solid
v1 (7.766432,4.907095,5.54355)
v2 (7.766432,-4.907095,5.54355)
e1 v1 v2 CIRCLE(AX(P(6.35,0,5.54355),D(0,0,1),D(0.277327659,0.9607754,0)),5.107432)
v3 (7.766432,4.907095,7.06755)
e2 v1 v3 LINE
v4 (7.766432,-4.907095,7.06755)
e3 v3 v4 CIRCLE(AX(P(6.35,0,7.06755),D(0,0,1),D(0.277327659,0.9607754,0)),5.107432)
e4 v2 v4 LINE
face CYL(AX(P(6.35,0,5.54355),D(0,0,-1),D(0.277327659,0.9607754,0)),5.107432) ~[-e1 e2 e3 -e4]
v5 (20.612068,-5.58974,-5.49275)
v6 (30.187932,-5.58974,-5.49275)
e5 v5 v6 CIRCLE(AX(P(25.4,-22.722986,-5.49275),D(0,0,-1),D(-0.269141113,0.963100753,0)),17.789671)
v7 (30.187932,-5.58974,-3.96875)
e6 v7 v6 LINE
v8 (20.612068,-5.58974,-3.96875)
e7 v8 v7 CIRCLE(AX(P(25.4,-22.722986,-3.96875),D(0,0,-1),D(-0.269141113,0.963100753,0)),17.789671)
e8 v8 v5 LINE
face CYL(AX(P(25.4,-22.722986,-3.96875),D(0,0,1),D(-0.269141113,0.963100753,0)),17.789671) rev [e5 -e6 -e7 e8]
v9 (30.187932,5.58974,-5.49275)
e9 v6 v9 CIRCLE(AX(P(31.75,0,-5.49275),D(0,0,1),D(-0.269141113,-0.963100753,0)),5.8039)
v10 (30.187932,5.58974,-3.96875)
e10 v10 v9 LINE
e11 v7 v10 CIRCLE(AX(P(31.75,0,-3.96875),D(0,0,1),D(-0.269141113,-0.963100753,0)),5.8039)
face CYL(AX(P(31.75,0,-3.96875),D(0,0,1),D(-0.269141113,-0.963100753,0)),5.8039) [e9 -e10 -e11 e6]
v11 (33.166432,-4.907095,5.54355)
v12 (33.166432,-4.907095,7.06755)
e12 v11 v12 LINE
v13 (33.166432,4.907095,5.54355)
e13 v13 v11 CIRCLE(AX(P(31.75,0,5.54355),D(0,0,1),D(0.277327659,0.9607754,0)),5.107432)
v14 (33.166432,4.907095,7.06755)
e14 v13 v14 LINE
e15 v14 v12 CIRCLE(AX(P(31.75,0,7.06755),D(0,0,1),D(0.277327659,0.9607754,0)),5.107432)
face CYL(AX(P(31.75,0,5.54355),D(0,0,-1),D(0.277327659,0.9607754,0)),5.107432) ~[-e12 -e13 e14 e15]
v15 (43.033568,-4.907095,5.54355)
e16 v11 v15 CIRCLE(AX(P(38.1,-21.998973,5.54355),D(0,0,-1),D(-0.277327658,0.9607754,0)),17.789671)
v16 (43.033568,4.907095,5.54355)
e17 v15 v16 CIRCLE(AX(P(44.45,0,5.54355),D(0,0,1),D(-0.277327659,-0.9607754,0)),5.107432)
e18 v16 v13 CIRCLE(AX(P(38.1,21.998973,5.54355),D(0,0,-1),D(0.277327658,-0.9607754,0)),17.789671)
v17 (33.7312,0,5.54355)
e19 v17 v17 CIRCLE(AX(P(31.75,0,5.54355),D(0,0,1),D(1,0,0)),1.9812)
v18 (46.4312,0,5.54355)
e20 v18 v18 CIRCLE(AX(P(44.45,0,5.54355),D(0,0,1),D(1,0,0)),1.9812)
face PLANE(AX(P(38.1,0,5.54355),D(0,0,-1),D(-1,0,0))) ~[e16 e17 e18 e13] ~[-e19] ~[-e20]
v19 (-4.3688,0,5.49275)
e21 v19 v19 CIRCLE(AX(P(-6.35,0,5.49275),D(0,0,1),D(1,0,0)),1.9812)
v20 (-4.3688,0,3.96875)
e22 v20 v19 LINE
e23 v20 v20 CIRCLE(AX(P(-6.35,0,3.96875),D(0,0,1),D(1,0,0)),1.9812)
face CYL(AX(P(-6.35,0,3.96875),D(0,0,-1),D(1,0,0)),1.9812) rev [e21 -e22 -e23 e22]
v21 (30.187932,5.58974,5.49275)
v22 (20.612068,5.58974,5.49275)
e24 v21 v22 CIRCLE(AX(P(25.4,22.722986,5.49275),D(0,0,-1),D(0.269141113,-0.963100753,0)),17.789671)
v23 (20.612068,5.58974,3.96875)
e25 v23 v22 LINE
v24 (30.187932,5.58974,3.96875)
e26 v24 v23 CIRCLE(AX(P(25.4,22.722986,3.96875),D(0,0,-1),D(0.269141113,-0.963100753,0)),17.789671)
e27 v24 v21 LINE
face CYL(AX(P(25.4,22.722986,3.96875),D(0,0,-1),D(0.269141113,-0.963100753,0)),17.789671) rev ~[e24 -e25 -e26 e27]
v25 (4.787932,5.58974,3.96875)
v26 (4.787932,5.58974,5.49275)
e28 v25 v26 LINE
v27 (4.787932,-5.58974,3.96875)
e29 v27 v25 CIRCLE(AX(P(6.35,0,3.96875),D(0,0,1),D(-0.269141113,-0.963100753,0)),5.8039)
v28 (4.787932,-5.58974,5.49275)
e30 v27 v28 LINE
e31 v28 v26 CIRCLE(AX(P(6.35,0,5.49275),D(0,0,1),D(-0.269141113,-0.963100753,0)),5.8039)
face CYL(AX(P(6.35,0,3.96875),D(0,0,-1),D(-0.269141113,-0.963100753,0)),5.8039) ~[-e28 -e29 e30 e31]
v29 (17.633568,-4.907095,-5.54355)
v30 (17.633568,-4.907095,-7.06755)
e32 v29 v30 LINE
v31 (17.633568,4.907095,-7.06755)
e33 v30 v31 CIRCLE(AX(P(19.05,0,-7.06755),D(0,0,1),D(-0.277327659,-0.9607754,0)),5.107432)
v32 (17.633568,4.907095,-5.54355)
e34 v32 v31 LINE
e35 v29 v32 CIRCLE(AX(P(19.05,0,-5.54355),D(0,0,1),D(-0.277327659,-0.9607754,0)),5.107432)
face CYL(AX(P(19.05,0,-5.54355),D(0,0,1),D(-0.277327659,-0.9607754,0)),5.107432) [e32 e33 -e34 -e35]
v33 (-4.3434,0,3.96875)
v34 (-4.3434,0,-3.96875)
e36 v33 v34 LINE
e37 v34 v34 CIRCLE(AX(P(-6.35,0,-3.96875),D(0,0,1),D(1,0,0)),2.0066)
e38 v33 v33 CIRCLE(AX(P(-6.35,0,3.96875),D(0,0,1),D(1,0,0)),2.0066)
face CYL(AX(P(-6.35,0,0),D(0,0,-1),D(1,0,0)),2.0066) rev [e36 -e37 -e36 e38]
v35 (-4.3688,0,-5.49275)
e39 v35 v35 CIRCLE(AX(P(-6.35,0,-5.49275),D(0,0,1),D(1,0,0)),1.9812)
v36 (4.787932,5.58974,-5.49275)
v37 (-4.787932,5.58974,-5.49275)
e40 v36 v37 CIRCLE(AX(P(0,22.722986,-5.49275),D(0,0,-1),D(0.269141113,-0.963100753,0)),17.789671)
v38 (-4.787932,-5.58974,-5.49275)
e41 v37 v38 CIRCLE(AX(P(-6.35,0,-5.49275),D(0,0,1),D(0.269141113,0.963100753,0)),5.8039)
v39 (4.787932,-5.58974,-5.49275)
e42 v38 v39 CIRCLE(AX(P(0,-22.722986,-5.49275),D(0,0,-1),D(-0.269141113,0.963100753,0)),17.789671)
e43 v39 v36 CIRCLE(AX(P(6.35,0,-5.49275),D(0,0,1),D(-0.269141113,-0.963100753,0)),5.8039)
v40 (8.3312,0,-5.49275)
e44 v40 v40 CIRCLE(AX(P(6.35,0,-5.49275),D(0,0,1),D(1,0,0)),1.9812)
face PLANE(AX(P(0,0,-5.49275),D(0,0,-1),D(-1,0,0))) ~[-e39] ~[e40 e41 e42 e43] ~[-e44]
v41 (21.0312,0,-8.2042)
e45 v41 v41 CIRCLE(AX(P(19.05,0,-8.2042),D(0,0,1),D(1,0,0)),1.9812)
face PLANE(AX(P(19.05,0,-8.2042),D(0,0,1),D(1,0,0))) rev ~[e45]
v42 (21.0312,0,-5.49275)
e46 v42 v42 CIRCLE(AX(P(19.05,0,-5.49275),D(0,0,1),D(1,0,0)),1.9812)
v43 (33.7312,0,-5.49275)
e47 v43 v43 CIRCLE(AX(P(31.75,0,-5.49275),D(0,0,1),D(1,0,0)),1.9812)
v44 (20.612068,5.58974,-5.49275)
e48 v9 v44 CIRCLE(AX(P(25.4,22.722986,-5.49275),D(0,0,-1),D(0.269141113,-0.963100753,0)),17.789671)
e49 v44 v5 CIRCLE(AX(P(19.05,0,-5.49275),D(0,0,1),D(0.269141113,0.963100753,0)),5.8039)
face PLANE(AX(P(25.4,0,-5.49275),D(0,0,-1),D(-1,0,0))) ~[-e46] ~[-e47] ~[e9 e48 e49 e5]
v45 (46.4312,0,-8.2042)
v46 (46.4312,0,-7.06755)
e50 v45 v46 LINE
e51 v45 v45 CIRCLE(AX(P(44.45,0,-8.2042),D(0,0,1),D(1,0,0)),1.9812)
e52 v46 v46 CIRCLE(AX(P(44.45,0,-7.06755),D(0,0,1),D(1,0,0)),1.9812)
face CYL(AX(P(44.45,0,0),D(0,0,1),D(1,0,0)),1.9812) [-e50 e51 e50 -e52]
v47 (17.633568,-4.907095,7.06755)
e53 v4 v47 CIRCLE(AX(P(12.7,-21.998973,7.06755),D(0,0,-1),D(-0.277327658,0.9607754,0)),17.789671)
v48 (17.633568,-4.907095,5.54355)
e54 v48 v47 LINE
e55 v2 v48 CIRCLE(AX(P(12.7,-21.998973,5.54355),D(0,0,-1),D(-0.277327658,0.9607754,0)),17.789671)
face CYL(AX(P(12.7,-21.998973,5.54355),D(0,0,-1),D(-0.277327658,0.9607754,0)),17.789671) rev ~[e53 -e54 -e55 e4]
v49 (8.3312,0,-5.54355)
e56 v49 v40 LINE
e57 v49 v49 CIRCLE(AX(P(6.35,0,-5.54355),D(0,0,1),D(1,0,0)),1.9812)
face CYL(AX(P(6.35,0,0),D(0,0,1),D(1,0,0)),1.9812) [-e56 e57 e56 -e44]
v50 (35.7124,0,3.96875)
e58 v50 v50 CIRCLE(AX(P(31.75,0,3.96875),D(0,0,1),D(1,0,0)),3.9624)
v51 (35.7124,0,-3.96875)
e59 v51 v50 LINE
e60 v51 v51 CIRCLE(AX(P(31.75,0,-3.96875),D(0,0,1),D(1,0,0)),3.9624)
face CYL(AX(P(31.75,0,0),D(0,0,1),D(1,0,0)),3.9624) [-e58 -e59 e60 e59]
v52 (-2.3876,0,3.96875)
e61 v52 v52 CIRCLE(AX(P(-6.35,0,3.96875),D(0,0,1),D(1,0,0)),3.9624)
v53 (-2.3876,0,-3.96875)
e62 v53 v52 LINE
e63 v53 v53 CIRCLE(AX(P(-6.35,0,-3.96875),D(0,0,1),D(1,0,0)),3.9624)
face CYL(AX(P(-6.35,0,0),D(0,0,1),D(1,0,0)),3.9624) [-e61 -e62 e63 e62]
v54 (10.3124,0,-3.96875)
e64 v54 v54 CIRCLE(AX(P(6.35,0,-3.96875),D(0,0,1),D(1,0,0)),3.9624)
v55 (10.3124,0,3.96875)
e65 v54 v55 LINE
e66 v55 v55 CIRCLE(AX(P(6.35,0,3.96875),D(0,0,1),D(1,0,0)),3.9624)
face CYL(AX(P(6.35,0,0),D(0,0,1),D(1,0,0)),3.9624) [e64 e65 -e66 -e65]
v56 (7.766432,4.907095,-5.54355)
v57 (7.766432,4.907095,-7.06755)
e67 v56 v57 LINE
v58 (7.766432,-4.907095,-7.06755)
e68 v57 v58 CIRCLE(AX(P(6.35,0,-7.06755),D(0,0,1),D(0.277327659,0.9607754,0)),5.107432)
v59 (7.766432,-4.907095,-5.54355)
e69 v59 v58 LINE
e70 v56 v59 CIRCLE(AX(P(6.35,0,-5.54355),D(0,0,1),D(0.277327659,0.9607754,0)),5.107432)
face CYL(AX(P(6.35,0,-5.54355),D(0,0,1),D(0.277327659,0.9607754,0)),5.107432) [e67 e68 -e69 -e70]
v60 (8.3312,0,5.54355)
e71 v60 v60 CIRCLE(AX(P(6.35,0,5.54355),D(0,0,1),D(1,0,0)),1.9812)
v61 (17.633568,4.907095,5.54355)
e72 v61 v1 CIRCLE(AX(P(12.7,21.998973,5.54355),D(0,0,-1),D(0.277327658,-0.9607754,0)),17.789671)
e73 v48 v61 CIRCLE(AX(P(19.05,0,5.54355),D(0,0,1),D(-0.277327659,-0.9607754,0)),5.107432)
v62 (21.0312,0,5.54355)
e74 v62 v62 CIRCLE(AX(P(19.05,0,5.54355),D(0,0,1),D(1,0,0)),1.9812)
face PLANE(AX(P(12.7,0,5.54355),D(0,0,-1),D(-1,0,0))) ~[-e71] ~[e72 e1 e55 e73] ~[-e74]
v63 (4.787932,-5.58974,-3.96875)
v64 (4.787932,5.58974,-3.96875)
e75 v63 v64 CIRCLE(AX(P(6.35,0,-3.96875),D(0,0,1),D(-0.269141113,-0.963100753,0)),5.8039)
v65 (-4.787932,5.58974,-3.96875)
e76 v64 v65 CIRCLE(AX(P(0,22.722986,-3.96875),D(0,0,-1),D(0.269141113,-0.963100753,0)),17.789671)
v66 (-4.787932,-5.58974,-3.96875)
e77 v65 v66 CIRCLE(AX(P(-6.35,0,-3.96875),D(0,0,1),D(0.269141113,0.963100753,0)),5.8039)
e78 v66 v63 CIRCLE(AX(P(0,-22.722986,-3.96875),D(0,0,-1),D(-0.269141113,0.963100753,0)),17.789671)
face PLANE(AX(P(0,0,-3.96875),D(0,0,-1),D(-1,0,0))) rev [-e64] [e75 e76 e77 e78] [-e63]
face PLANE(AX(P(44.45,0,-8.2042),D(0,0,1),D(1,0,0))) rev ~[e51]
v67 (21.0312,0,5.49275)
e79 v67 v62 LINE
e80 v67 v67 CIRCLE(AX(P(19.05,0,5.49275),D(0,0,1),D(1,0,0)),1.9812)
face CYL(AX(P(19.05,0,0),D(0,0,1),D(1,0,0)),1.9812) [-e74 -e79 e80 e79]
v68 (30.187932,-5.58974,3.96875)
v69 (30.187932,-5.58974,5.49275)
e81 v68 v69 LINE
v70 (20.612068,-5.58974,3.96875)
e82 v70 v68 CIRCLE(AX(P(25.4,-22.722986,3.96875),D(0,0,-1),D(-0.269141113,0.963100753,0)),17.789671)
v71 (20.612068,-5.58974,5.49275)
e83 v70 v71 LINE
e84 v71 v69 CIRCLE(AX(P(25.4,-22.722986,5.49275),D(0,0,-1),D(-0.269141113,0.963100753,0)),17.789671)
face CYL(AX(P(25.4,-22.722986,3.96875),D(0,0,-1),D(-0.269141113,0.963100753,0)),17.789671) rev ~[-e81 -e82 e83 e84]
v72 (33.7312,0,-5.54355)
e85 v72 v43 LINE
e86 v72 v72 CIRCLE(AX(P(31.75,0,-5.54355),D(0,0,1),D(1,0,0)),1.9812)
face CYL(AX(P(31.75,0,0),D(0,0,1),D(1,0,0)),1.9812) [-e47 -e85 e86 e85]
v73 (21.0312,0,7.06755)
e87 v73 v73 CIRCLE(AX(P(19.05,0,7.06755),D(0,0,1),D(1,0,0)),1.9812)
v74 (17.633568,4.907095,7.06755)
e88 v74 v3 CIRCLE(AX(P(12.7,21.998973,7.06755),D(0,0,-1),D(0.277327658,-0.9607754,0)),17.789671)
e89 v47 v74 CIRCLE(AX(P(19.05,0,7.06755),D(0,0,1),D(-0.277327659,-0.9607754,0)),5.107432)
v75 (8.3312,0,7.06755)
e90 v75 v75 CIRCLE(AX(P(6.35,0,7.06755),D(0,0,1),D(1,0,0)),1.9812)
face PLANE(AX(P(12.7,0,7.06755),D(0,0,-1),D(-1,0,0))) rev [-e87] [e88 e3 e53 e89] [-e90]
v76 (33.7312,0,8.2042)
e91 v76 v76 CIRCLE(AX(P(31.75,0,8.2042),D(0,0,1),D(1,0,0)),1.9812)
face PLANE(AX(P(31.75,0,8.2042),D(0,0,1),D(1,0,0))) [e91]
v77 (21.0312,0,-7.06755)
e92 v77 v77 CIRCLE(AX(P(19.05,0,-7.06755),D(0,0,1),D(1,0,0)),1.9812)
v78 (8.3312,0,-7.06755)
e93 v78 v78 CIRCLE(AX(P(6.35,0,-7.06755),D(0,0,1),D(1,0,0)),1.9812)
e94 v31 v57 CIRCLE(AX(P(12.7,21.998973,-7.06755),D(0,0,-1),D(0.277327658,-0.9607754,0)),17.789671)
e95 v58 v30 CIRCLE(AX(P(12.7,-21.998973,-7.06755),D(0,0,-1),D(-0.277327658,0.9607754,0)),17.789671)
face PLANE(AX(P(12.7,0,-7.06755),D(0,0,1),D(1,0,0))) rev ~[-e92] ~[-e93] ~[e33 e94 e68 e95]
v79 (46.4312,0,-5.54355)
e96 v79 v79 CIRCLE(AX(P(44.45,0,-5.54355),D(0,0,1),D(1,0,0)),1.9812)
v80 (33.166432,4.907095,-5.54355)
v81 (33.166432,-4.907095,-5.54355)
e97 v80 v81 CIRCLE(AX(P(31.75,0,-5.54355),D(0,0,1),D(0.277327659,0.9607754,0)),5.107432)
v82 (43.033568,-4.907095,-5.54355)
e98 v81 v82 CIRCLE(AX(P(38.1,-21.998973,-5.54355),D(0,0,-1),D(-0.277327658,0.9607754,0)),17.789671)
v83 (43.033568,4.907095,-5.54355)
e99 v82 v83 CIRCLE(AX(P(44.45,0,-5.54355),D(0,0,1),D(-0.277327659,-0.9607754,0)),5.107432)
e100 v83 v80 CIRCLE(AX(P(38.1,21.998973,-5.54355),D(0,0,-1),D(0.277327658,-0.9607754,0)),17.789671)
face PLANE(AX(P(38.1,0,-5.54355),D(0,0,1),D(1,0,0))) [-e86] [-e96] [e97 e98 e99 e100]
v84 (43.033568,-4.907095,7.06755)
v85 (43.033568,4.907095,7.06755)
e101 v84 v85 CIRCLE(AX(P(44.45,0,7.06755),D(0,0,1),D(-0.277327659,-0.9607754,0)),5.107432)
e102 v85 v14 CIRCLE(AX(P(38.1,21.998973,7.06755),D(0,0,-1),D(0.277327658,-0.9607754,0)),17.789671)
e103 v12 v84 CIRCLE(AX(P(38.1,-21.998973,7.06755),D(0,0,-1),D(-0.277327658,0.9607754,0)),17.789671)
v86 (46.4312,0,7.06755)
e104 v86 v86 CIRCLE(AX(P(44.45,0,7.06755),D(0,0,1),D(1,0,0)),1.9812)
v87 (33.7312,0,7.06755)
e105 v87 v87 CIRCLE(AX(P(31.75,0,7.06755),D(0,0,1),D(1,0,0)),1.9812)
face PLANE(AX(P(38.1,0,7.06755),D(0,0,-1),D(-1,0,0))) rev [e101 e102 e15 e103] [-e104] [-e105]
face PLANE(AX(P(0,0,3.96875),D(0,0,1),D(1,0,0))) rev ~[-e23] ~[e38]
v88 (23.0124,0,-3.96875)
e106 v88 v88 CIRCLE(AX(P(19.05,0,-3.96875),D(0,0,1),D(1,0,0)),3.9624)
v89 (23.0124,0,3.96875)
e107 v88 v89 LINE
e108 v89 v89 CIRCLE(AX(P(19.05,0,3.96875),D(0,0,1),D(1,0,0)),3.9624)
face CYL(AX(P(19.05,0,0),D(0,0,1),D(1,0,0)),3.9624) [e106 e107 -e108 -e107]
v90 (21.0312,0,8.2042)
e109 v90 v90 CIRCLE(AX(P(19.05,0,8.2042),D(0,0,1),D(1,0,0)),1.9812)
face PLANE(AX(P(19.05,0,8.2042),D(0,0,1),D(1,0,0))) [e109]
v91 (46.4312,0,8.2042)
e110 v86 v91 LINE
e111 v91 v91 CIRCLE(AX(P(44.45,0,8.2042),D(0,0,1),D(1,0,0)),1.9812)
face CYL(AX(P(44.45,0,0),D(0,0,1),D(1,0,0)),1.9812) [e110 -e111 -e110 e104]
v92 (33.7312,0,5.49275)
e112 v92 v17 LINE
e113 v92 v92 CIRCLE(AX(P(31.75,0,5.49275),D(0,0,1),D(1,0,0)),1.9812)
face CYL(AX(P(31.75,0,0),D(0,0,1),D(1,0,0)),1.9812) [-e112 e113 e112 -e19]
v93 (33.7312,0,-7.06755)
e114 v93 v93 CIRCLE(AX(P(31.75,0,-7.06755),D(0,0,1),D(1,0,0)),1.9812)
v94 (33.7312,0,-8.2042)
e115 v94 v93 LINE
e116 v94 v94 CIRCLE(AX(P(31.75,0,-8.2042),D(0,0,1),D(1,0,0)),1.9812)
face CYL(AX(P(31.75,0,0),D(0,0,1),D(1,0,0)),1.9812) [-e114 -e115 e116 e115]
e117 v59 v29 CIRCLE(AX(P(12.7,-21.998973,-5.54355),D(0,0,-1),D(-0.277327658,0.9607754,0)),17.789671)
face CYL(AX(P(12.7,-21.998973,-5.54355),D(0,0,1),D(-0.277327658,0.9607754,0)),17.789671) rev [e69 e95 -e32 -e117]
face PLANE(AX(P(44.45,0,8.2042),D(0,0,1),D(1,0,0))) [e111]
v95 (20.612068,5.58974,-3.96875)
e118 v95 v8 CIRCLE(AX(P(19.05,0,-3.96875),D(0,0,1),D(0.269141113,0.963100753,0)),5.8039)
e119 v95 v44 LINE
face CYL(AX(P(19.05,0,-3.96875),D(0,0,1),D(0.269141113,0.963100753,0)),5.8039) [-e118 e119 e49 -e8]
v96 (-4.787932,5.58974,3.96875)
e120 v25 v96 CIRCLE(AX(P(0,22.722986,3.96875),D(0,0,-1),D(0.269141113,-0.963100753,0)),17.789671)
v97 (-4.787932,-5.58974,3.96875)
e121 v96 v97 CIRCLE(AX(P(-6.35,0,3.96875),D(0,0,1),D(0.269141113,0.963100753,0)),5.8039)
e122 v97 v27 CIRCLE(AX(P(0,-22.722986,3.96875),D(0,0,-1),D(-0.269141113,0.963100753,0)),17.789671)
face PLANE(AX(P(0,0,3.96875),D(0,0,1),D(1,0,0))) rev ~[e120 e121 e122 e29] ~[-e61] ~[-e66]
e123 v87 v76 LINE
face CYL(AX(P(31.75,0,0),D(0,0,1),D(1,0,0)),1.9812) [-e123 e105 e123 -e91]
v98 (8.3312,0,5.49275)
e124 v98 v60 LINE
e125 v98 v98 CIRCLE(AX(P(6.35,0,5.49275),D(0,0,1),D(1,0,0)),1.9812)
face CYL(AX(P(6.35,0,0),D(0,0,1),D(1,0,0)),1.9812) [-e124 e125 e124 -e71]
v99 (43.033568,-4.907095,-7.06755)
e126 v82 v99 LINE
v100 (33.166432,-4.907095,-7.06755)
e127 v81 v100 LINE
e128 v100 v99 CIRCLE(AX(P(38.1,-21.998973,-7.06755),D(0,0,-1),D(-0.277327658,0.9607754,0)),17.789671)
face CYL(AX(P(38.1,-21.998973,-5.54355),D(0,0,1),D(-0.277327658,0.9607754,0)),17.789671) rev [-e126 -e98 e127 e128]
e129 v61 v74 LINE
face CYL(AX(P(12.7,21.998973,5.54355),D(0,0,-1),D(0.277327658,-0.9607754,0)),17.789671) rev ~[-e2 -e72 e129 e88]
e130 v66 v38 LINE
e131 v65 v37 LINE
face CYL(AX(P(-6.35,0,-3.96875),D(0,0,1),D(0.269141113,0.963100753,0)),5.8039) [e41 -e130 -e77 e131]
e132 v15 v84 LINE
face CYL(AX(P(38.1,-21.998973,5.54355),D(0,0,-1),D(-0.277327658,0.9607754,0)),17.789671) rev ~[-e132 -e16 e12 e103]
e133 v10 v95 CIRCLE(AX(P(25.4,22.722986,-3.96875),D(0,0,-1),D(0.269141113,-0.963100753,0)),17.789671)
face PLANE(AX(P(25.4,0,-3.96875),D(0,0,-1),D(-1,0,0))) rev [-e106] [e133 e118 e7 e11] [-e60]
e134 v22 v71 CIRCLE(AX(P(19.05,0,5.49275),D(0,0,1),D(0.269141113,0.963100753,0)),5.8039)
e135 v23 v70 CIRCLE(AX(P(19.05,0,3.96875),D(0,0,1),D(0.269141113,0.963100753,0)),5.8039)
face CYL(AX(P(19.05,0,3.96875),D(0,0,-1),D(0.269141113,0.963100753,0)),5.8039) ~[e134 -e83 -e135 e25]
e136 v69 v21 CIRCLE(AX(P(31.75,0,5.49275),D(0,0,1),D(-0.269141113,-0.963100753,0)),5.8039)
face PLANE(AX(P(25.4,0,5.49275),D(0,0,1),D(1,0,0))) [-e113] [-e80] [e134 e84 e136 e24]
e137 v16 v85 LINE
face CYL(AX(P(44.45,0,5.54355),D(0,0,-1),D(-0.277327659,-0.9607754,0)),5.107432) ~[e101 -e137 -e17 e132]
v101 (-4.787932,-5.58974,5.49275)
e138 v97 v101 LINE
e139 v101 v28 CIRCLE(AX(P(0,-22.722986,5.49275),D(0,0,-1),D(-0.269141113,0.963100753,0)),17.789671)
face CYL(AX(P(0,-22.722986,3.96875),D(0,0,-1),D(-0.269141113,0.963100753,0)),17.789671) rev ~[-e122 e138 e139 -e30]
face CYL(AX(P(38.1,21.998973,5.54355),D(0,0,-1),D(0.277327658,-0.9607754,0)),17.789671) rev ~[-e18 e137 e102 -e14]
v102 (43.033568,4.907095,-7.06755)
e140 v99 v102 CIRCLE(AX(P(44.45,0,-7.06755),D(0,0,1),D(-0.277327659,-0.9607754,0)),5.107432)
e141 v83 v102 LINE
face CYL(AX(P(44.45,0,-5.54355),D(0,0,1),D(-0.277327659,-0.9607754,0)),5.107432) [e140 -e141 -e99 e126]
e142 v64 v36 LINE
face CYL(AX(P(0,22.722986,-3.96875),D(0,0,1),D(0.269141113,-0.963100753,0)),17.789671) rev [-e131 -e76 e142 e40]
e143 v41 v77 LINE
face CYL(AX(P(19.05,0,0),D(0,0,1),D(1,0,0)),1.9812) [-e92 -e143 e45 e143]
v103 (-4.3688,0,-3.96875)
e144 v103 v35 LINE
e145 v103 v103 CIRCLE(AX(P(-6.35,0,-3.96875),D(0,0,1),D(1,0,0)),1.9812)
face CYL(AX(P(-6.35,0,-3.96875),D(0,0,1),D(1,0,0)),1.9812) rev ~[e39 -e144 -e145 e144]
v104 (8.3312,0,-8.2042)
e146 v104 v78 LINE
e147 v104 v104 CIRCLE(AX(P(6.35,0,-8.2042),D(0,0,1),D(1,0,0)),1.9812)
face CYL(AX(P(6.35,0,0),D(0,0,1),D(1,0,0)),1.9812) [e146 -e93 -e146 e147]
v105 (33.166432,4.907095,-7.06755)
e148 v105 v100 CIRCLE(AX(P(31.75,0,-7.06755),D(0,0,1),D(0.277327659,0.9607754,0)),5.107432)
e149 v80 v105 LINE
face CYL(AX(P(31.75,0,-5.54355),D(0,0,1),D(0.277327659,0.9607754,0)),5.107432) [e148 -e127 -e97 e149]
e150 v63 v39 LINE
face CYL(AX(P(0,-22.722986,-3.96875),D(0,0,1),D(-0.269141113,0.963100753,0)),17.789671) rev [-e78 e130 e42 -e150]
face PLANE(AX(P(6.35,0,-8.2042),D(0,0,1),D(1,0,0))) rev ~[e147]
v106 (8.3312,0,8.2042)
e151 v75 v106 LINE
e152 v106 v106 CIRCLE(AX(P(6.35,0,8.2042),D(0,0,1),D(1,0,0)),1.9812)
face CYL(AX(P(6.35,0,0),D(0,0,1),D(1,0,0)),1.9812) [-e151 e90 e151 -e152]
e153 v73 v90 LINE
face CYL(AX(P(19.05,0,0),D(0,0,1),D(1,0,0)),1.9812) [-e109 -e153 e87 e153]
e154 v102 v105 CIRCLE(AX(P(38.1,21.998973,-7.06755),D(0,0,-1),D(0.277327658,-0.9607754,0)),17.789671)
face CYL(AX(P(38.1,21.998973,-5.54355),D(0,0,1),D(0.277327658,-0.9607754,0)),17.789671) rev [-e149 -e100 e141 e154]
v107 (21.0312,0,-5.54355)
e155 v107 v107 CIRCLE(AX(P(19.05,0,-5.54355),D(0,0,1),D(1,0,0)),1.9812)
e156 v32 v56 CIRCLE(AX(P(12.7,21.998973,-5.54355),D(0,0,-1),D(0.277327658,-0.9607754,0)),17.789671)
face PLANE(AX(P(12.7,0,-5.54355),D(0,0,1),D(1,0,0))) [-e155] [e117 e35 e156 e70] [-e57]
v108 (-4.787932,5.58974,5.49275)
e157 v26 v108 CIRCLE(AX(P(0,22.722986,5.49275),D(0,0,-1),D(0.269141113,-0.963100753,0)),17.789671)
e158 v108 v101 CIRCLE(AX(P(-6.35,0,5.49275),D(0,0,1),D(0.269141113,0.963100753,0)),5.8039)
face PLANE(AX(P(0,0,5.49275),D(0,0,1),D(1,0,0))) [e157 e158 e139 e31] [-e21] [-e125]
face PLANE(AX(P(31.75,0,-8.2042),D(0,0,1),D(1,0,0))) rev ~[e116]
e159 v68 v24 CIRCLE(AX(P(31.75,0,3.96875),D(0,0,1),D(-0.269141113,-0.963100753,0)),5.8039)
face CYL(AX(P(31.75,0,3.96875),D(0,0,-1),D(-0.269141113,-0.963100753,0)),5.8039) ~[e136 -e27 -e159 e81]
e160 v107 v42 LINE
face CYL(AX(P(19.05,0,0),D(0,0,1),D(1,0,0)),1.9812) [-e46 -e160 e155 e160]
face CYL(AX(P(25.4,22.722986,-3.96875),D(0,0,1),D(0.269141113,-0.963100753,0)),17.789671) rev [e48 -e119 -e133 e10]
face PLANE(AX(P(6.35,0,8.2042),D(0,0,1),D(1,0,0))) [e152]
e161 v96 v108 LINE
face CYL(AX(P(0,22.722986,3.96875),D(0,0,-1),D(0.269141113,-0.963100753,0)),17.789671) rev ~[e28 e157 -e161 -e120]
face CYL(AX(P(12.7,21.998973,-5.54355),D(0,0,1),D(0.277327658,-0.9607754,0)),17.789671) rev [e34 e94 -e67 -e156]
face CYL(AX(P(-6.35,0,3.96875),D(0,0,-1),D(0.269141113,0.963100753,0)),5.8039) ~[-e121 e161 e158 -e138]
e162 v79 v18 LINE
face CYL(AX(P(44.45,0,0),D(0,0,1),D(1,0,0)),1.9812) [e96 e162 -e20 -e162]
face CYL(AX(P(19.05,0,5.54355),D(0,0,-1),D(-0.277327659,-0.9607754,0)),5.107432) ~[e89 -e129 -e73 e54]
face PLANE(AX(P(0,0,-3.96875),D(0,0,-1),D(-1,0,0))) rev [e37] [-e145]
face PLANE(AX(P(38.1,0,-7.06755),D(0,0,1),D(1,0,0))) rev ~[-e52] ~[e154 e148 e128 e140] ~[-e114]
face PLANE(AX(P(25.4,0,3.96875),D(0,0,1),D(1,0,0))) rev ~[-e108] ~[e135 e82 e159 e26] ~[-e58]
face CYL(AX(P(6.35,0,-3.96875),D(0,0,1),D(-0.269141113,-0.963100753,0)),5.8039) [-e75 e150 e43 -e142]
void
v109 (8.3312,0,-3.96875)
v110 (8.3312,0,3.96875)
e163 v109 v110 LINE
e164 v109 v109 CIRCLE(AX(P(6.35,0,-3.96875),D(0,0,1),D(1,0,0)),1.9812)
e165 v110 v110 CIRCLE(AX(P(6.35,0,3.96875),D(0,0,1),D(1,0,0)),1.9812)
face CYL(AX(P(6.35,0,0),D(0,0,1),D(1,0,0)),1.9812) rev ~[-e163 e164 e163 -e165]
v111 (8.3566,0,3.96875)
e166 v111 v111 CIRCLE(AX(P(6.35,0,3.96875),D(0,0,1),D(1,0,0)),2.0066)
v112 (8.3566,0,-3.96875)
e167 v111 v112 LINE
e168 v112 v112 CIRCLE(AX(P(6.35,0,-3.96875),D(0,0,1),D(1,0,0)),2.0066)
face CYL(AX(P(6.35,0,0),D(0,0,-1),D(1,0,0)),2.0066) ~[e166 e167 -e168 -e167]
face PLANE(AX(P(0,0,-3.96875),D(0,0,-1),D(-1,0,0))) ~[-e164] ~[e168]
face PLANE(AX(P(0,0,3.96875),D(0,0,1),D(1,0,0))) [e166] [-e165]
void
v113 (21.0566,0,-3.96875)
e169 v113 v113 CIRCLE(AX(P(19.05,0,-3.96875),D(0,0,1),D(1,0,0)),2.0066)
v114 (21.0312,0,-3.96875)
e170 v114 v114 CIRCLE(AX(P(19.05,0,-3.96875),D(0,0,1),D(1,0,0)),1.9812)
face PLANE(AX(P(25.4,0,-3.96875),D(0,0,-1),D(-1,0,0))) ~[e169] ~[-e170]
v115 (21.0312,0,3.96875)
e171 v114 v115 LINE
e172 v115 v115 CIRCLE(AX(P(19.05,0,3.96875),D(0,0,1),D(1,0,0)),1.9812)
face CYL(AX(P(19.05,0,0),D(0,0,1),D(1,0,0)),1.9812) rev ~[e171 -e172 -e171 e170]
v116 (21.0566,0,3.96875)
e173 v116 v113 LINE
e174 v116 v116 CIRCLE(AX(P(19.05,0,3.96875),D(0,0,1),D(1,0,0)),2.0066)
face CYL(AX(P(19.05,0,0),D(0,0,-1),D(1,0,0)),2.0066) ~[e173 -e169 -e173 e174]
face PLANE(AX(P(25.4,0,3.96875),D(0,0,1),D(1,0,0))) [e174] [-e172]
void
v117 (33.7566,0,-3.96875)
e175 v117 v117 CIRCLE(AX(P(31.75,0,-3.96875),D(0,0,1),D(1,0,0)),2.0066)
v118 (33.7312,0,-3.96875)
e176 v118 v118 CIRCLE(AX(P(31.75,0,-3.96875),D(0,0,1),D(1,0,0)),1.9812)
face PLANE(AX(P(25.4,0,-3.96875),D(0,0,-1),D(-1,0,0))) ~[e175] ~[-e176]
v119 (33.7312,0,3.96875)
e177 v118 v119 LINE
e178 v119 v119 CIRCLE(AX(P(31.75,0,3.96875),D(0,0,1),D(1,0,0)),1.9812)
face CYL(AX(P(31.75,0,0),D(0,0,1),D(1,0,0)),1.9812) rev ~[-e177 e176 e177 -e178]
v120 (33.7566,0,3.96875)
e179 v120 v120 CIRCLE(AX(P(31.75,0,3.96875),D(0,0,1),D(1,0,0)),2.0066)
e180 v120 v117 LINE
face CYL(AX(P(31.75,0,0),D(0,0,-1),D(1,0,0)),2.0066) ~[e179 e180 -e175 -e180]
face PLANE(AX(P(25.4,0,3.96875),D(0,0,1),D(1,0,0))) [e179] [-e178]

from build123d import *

# Parameters (mm, degrees)
SKETCH4_R                  = 3.9624
SKETCH4_R_2                = 2.0066
BOSS_EXTRUDE1_DEPTH        = 3.96875
BOSS_EXTRUDE1_2_DEPTH      = 3.96875
SKETCH5_R                  = 1.9812
BOSS_EXTRUDE2_DEPTH        = 1.524
LPATTERN1_COUNT            = 2
LPATTERN1_PITCH            = 12.7
SKETCH7_R                  = 1.9812
BOSS_EXTRUDE3_DEPTH        = 1.524
SKETCH8_R                  = 1.9812
BOSS_EXTRUDE4_DEPTH        = 8.2042
BOSS_EXTRUDE4_DEPTH_BACK   = 8.2042
BOSS_EXTRUDE4_2_DEPTH      = 8.2042
BOSS_EXTRUDE4_2_DEPTH_BACK = 8.2042
LPATTERN2_COUNT            = 2
LPATTERN2_PITCH            = 25.4


with BuildPart() as part:
    # Sketch4 → Boss-Extrude1 (new body, symmetric)
    with BuildSketch(Plane.XY):
        with Locations((-6.35, 0)):
            Circle(SKETCH4_R)
        with Locations((-6.35, 0)):
            Circle(SKETCH4_R_2, mode=Mode.SUBTRACT)
    extrude(amount=BOSS_EXTRUDE1_DEPTH, both=True)


with BuildPart() as body_2:
    # Sketch4 → Boss-Extrude1 2 (new body, symmetric)
    with BuildSketch(Plane.XY):
        with Locations((6.35, 0)):
            Circle(SKETCH4_R)
        with Locations((6.35, 0)):
            Circle(SKETCH4_R_2, mode=Mode.SUBTRACT)
    extrude(amount=BOSS_EXTRUDE1_2_DEPTH, both=True)


with BuildPart() as body_3:
    # Sketch5 → Boss-Extrude2 (new body)
    with BuildSketch(Plane.XY.offset(3.96875)):
        with BuildLine():
            ThreePointArc((-4.787931893, 5.589740462), (-12.1539, 0), (-4.787931893, -5.589740462))
            ThreePointArc((-4.787931893, -5.589740462), (0, -4.933315), (4.787931893, -5.589740462))
            ThreePointArc((4.787931893, -5.589740462), (12.1539, 0), (4.787931893, 5.589740462))
            ThreePointArc((4.787931893, 5.589740462), (0, 4.933315), (-4.787931893, 5.589740462))
        make_face()
        with Locations((-6.35, 0)):
            Circle(SKETCH5_R, mode=Mode.SUBTRACT)
        with Locations((6.35, 0)):
            Circle(SKETCH5_R, mode=Mode.SUBTRACT)
    extrude(amount=BOSS_EXTRUDE2_DEPTH)


with BuildPart() as lpattern1_1:
    # LPattern1: pattern copy
    add(body_2.part.moved(Location(Vector(1, 0, 0) * (1 * LPATTERN1_PITCH))))


with BuildPart() as body_5:
    # Sketch7 → Boss-Extrude3 (new body)
    with BuildSketch(Plane.XY.offset(-5.54355)):
        with BuildLine():
            ThreePointArc((7.766432158, 4.907095024), (1.242568, 0), (7.766432158, -4.907095024))
            ThreePointArc((7.766432158, -4.907095024), (12.7, -4.209302295), (17.633567842, -4.907095024))
            ThreePointArc((17.633567842, -4.907095024), (24.157432, 0), (17.633567842, 4.907095024))
            ThreePointArc((17.633567842, 4.907095024), (12.7, 4.209302295), (7.766432158, 4.907095024))
        make_face()
        with Locations((6.35, 0)):
            Circle(SKETCH7_R, mode=Mode.SUBTRACT)
        with Locations((19.05, 0)):
            Circle(SKETCH7_R, mode=Mode.SUBTRACT)
    extrude(amount=-BOSS_EXTRUDE3_DEPTH)


with BuildPart() as body_6:
    # Mirror1: mirrored copy
    add(body_3.part.mirror(Plane.XY))


with BuildPart() as body_7:
    # Mirror1 2: mirrored copy
    add(body_5.part.mirror(Plane.XY))


with BuildPart() as body_8:
    # Sketch8 → Boss-Extrude4 (new body, two sides)
    with BuildSketch(Plane.XY) as boss_extrude4_sk:
        with Locations((6.35, 0)):
            Circle(SKETCH8_R)
    extrude(amount=BOSS_EXTRUDE4_DEPTH)
    extrude(boss_extrude4_sk.sketch, amount=-BOSS_EXTRUDE4_DEPTH_BACK)


with BuildPart() as body_9:
    # Sketch8 → Boss-Extrude4 2 (new body, two sides)
    with BuildSketch(Plane.XY) as boss_extrude4_2_sk:
        with Locations((19.05, 0)):
            Circle(SKETCH8_R)
    extrude(amount=BOSS_EXTRUDE4_2_DEPTH)
    extrude(boss_extrude4_2_sk.sketch, amount=-BOSS_EXTRUDE4_2_DEPTH_BACK)


with BuildPart() as lpattern2_1:
    # LPattern2: pattern copy
    add(body_9.part.moved(Location(Vector(1, 0, 0) * (1 * LPATTERN2_PITCH))))


with BuildPart() as lpattern2_2:
    # LPattern2: pattern copy
    add(body_8.part.moved(Location(Vector(1, 0, 0) * (1 * LPATTERN2_PITCH))))


with BuildPart() as lpattern2_3:
    # LPattern2: pattern copy
    add(body_7.part.moved(Location(Vector(1, 0, 0) * (1 * LPATTERN2_PITCH))))


with BuildPart() as lpattern2_4:
    # LPattern2: pattern copy
    add(body_6.part.moved(Location(Vector(1, 0, 0) * (1 * LPATTERN2_PITCH))))


with BuildPart() as lpattern2_5:
    # LPattern2: pattern copy
    add(body_5.part.moved(Location(Vector(1, 0, 0) * (1 * LPATTERN2_PITCH))))


with BuildPart() as lpattern2_6:
    # LPattern2: pattern copy
    add(lpattern1_1.part.moved(Location(Vector(1, 0, 0) * (1 * LPATTERN2_PITCH))))


with BuildPart() as lpattern2_7:
    # LPattern2: pattern copy
    add(body_3.part.moved(Location(Vector(1, 0, 0) * (1 * LPATTERN2_PITCH))))


with BuildPart() as lpattern2_8:
    # LPattern2: pattern copy
    add(body_2.part.moved(Location(Vector(1, 0, 0) * (1 * LPATTERN2_PITCH))))


with BuildPart() as lpattern2_9:
    # LPattern2: pattern copy
    add(part.part.moved(Location(Vector(1, 0, 0) * (1 * LPATTERN2_PITCH))))


with BuildPart() as body_2_1:
    add(body_2.part)

    # Combine1: union body 3, LPattern1_1, body 5, body 6, body 7, body 8, body 9, LPattern2_1, LPattern2_2, LPattern2_3, LPattern2_4, LPattern2_5, LPattern2_7, LPattern2_8, LPattern2_9, part
    add(body_3.part)
    add(lpattern1_1.part)
    add(body_5.part)
    add(body_6.part)
    add(body_7.part)
    add(body_8.part)
    add(body_9.part)
    add(lpattern2_1.part)
    add(lpattern2_2.part)
    add(lpattern2_3.part)
    add(lpattern2_4.part)
    add(lpattern2_5.part)
    add(lpattern2_7.part)
    add(lpattern2_8.part)
    add(lpattern2_9.part)
    add(part.part)


solid = body_2_1.part
